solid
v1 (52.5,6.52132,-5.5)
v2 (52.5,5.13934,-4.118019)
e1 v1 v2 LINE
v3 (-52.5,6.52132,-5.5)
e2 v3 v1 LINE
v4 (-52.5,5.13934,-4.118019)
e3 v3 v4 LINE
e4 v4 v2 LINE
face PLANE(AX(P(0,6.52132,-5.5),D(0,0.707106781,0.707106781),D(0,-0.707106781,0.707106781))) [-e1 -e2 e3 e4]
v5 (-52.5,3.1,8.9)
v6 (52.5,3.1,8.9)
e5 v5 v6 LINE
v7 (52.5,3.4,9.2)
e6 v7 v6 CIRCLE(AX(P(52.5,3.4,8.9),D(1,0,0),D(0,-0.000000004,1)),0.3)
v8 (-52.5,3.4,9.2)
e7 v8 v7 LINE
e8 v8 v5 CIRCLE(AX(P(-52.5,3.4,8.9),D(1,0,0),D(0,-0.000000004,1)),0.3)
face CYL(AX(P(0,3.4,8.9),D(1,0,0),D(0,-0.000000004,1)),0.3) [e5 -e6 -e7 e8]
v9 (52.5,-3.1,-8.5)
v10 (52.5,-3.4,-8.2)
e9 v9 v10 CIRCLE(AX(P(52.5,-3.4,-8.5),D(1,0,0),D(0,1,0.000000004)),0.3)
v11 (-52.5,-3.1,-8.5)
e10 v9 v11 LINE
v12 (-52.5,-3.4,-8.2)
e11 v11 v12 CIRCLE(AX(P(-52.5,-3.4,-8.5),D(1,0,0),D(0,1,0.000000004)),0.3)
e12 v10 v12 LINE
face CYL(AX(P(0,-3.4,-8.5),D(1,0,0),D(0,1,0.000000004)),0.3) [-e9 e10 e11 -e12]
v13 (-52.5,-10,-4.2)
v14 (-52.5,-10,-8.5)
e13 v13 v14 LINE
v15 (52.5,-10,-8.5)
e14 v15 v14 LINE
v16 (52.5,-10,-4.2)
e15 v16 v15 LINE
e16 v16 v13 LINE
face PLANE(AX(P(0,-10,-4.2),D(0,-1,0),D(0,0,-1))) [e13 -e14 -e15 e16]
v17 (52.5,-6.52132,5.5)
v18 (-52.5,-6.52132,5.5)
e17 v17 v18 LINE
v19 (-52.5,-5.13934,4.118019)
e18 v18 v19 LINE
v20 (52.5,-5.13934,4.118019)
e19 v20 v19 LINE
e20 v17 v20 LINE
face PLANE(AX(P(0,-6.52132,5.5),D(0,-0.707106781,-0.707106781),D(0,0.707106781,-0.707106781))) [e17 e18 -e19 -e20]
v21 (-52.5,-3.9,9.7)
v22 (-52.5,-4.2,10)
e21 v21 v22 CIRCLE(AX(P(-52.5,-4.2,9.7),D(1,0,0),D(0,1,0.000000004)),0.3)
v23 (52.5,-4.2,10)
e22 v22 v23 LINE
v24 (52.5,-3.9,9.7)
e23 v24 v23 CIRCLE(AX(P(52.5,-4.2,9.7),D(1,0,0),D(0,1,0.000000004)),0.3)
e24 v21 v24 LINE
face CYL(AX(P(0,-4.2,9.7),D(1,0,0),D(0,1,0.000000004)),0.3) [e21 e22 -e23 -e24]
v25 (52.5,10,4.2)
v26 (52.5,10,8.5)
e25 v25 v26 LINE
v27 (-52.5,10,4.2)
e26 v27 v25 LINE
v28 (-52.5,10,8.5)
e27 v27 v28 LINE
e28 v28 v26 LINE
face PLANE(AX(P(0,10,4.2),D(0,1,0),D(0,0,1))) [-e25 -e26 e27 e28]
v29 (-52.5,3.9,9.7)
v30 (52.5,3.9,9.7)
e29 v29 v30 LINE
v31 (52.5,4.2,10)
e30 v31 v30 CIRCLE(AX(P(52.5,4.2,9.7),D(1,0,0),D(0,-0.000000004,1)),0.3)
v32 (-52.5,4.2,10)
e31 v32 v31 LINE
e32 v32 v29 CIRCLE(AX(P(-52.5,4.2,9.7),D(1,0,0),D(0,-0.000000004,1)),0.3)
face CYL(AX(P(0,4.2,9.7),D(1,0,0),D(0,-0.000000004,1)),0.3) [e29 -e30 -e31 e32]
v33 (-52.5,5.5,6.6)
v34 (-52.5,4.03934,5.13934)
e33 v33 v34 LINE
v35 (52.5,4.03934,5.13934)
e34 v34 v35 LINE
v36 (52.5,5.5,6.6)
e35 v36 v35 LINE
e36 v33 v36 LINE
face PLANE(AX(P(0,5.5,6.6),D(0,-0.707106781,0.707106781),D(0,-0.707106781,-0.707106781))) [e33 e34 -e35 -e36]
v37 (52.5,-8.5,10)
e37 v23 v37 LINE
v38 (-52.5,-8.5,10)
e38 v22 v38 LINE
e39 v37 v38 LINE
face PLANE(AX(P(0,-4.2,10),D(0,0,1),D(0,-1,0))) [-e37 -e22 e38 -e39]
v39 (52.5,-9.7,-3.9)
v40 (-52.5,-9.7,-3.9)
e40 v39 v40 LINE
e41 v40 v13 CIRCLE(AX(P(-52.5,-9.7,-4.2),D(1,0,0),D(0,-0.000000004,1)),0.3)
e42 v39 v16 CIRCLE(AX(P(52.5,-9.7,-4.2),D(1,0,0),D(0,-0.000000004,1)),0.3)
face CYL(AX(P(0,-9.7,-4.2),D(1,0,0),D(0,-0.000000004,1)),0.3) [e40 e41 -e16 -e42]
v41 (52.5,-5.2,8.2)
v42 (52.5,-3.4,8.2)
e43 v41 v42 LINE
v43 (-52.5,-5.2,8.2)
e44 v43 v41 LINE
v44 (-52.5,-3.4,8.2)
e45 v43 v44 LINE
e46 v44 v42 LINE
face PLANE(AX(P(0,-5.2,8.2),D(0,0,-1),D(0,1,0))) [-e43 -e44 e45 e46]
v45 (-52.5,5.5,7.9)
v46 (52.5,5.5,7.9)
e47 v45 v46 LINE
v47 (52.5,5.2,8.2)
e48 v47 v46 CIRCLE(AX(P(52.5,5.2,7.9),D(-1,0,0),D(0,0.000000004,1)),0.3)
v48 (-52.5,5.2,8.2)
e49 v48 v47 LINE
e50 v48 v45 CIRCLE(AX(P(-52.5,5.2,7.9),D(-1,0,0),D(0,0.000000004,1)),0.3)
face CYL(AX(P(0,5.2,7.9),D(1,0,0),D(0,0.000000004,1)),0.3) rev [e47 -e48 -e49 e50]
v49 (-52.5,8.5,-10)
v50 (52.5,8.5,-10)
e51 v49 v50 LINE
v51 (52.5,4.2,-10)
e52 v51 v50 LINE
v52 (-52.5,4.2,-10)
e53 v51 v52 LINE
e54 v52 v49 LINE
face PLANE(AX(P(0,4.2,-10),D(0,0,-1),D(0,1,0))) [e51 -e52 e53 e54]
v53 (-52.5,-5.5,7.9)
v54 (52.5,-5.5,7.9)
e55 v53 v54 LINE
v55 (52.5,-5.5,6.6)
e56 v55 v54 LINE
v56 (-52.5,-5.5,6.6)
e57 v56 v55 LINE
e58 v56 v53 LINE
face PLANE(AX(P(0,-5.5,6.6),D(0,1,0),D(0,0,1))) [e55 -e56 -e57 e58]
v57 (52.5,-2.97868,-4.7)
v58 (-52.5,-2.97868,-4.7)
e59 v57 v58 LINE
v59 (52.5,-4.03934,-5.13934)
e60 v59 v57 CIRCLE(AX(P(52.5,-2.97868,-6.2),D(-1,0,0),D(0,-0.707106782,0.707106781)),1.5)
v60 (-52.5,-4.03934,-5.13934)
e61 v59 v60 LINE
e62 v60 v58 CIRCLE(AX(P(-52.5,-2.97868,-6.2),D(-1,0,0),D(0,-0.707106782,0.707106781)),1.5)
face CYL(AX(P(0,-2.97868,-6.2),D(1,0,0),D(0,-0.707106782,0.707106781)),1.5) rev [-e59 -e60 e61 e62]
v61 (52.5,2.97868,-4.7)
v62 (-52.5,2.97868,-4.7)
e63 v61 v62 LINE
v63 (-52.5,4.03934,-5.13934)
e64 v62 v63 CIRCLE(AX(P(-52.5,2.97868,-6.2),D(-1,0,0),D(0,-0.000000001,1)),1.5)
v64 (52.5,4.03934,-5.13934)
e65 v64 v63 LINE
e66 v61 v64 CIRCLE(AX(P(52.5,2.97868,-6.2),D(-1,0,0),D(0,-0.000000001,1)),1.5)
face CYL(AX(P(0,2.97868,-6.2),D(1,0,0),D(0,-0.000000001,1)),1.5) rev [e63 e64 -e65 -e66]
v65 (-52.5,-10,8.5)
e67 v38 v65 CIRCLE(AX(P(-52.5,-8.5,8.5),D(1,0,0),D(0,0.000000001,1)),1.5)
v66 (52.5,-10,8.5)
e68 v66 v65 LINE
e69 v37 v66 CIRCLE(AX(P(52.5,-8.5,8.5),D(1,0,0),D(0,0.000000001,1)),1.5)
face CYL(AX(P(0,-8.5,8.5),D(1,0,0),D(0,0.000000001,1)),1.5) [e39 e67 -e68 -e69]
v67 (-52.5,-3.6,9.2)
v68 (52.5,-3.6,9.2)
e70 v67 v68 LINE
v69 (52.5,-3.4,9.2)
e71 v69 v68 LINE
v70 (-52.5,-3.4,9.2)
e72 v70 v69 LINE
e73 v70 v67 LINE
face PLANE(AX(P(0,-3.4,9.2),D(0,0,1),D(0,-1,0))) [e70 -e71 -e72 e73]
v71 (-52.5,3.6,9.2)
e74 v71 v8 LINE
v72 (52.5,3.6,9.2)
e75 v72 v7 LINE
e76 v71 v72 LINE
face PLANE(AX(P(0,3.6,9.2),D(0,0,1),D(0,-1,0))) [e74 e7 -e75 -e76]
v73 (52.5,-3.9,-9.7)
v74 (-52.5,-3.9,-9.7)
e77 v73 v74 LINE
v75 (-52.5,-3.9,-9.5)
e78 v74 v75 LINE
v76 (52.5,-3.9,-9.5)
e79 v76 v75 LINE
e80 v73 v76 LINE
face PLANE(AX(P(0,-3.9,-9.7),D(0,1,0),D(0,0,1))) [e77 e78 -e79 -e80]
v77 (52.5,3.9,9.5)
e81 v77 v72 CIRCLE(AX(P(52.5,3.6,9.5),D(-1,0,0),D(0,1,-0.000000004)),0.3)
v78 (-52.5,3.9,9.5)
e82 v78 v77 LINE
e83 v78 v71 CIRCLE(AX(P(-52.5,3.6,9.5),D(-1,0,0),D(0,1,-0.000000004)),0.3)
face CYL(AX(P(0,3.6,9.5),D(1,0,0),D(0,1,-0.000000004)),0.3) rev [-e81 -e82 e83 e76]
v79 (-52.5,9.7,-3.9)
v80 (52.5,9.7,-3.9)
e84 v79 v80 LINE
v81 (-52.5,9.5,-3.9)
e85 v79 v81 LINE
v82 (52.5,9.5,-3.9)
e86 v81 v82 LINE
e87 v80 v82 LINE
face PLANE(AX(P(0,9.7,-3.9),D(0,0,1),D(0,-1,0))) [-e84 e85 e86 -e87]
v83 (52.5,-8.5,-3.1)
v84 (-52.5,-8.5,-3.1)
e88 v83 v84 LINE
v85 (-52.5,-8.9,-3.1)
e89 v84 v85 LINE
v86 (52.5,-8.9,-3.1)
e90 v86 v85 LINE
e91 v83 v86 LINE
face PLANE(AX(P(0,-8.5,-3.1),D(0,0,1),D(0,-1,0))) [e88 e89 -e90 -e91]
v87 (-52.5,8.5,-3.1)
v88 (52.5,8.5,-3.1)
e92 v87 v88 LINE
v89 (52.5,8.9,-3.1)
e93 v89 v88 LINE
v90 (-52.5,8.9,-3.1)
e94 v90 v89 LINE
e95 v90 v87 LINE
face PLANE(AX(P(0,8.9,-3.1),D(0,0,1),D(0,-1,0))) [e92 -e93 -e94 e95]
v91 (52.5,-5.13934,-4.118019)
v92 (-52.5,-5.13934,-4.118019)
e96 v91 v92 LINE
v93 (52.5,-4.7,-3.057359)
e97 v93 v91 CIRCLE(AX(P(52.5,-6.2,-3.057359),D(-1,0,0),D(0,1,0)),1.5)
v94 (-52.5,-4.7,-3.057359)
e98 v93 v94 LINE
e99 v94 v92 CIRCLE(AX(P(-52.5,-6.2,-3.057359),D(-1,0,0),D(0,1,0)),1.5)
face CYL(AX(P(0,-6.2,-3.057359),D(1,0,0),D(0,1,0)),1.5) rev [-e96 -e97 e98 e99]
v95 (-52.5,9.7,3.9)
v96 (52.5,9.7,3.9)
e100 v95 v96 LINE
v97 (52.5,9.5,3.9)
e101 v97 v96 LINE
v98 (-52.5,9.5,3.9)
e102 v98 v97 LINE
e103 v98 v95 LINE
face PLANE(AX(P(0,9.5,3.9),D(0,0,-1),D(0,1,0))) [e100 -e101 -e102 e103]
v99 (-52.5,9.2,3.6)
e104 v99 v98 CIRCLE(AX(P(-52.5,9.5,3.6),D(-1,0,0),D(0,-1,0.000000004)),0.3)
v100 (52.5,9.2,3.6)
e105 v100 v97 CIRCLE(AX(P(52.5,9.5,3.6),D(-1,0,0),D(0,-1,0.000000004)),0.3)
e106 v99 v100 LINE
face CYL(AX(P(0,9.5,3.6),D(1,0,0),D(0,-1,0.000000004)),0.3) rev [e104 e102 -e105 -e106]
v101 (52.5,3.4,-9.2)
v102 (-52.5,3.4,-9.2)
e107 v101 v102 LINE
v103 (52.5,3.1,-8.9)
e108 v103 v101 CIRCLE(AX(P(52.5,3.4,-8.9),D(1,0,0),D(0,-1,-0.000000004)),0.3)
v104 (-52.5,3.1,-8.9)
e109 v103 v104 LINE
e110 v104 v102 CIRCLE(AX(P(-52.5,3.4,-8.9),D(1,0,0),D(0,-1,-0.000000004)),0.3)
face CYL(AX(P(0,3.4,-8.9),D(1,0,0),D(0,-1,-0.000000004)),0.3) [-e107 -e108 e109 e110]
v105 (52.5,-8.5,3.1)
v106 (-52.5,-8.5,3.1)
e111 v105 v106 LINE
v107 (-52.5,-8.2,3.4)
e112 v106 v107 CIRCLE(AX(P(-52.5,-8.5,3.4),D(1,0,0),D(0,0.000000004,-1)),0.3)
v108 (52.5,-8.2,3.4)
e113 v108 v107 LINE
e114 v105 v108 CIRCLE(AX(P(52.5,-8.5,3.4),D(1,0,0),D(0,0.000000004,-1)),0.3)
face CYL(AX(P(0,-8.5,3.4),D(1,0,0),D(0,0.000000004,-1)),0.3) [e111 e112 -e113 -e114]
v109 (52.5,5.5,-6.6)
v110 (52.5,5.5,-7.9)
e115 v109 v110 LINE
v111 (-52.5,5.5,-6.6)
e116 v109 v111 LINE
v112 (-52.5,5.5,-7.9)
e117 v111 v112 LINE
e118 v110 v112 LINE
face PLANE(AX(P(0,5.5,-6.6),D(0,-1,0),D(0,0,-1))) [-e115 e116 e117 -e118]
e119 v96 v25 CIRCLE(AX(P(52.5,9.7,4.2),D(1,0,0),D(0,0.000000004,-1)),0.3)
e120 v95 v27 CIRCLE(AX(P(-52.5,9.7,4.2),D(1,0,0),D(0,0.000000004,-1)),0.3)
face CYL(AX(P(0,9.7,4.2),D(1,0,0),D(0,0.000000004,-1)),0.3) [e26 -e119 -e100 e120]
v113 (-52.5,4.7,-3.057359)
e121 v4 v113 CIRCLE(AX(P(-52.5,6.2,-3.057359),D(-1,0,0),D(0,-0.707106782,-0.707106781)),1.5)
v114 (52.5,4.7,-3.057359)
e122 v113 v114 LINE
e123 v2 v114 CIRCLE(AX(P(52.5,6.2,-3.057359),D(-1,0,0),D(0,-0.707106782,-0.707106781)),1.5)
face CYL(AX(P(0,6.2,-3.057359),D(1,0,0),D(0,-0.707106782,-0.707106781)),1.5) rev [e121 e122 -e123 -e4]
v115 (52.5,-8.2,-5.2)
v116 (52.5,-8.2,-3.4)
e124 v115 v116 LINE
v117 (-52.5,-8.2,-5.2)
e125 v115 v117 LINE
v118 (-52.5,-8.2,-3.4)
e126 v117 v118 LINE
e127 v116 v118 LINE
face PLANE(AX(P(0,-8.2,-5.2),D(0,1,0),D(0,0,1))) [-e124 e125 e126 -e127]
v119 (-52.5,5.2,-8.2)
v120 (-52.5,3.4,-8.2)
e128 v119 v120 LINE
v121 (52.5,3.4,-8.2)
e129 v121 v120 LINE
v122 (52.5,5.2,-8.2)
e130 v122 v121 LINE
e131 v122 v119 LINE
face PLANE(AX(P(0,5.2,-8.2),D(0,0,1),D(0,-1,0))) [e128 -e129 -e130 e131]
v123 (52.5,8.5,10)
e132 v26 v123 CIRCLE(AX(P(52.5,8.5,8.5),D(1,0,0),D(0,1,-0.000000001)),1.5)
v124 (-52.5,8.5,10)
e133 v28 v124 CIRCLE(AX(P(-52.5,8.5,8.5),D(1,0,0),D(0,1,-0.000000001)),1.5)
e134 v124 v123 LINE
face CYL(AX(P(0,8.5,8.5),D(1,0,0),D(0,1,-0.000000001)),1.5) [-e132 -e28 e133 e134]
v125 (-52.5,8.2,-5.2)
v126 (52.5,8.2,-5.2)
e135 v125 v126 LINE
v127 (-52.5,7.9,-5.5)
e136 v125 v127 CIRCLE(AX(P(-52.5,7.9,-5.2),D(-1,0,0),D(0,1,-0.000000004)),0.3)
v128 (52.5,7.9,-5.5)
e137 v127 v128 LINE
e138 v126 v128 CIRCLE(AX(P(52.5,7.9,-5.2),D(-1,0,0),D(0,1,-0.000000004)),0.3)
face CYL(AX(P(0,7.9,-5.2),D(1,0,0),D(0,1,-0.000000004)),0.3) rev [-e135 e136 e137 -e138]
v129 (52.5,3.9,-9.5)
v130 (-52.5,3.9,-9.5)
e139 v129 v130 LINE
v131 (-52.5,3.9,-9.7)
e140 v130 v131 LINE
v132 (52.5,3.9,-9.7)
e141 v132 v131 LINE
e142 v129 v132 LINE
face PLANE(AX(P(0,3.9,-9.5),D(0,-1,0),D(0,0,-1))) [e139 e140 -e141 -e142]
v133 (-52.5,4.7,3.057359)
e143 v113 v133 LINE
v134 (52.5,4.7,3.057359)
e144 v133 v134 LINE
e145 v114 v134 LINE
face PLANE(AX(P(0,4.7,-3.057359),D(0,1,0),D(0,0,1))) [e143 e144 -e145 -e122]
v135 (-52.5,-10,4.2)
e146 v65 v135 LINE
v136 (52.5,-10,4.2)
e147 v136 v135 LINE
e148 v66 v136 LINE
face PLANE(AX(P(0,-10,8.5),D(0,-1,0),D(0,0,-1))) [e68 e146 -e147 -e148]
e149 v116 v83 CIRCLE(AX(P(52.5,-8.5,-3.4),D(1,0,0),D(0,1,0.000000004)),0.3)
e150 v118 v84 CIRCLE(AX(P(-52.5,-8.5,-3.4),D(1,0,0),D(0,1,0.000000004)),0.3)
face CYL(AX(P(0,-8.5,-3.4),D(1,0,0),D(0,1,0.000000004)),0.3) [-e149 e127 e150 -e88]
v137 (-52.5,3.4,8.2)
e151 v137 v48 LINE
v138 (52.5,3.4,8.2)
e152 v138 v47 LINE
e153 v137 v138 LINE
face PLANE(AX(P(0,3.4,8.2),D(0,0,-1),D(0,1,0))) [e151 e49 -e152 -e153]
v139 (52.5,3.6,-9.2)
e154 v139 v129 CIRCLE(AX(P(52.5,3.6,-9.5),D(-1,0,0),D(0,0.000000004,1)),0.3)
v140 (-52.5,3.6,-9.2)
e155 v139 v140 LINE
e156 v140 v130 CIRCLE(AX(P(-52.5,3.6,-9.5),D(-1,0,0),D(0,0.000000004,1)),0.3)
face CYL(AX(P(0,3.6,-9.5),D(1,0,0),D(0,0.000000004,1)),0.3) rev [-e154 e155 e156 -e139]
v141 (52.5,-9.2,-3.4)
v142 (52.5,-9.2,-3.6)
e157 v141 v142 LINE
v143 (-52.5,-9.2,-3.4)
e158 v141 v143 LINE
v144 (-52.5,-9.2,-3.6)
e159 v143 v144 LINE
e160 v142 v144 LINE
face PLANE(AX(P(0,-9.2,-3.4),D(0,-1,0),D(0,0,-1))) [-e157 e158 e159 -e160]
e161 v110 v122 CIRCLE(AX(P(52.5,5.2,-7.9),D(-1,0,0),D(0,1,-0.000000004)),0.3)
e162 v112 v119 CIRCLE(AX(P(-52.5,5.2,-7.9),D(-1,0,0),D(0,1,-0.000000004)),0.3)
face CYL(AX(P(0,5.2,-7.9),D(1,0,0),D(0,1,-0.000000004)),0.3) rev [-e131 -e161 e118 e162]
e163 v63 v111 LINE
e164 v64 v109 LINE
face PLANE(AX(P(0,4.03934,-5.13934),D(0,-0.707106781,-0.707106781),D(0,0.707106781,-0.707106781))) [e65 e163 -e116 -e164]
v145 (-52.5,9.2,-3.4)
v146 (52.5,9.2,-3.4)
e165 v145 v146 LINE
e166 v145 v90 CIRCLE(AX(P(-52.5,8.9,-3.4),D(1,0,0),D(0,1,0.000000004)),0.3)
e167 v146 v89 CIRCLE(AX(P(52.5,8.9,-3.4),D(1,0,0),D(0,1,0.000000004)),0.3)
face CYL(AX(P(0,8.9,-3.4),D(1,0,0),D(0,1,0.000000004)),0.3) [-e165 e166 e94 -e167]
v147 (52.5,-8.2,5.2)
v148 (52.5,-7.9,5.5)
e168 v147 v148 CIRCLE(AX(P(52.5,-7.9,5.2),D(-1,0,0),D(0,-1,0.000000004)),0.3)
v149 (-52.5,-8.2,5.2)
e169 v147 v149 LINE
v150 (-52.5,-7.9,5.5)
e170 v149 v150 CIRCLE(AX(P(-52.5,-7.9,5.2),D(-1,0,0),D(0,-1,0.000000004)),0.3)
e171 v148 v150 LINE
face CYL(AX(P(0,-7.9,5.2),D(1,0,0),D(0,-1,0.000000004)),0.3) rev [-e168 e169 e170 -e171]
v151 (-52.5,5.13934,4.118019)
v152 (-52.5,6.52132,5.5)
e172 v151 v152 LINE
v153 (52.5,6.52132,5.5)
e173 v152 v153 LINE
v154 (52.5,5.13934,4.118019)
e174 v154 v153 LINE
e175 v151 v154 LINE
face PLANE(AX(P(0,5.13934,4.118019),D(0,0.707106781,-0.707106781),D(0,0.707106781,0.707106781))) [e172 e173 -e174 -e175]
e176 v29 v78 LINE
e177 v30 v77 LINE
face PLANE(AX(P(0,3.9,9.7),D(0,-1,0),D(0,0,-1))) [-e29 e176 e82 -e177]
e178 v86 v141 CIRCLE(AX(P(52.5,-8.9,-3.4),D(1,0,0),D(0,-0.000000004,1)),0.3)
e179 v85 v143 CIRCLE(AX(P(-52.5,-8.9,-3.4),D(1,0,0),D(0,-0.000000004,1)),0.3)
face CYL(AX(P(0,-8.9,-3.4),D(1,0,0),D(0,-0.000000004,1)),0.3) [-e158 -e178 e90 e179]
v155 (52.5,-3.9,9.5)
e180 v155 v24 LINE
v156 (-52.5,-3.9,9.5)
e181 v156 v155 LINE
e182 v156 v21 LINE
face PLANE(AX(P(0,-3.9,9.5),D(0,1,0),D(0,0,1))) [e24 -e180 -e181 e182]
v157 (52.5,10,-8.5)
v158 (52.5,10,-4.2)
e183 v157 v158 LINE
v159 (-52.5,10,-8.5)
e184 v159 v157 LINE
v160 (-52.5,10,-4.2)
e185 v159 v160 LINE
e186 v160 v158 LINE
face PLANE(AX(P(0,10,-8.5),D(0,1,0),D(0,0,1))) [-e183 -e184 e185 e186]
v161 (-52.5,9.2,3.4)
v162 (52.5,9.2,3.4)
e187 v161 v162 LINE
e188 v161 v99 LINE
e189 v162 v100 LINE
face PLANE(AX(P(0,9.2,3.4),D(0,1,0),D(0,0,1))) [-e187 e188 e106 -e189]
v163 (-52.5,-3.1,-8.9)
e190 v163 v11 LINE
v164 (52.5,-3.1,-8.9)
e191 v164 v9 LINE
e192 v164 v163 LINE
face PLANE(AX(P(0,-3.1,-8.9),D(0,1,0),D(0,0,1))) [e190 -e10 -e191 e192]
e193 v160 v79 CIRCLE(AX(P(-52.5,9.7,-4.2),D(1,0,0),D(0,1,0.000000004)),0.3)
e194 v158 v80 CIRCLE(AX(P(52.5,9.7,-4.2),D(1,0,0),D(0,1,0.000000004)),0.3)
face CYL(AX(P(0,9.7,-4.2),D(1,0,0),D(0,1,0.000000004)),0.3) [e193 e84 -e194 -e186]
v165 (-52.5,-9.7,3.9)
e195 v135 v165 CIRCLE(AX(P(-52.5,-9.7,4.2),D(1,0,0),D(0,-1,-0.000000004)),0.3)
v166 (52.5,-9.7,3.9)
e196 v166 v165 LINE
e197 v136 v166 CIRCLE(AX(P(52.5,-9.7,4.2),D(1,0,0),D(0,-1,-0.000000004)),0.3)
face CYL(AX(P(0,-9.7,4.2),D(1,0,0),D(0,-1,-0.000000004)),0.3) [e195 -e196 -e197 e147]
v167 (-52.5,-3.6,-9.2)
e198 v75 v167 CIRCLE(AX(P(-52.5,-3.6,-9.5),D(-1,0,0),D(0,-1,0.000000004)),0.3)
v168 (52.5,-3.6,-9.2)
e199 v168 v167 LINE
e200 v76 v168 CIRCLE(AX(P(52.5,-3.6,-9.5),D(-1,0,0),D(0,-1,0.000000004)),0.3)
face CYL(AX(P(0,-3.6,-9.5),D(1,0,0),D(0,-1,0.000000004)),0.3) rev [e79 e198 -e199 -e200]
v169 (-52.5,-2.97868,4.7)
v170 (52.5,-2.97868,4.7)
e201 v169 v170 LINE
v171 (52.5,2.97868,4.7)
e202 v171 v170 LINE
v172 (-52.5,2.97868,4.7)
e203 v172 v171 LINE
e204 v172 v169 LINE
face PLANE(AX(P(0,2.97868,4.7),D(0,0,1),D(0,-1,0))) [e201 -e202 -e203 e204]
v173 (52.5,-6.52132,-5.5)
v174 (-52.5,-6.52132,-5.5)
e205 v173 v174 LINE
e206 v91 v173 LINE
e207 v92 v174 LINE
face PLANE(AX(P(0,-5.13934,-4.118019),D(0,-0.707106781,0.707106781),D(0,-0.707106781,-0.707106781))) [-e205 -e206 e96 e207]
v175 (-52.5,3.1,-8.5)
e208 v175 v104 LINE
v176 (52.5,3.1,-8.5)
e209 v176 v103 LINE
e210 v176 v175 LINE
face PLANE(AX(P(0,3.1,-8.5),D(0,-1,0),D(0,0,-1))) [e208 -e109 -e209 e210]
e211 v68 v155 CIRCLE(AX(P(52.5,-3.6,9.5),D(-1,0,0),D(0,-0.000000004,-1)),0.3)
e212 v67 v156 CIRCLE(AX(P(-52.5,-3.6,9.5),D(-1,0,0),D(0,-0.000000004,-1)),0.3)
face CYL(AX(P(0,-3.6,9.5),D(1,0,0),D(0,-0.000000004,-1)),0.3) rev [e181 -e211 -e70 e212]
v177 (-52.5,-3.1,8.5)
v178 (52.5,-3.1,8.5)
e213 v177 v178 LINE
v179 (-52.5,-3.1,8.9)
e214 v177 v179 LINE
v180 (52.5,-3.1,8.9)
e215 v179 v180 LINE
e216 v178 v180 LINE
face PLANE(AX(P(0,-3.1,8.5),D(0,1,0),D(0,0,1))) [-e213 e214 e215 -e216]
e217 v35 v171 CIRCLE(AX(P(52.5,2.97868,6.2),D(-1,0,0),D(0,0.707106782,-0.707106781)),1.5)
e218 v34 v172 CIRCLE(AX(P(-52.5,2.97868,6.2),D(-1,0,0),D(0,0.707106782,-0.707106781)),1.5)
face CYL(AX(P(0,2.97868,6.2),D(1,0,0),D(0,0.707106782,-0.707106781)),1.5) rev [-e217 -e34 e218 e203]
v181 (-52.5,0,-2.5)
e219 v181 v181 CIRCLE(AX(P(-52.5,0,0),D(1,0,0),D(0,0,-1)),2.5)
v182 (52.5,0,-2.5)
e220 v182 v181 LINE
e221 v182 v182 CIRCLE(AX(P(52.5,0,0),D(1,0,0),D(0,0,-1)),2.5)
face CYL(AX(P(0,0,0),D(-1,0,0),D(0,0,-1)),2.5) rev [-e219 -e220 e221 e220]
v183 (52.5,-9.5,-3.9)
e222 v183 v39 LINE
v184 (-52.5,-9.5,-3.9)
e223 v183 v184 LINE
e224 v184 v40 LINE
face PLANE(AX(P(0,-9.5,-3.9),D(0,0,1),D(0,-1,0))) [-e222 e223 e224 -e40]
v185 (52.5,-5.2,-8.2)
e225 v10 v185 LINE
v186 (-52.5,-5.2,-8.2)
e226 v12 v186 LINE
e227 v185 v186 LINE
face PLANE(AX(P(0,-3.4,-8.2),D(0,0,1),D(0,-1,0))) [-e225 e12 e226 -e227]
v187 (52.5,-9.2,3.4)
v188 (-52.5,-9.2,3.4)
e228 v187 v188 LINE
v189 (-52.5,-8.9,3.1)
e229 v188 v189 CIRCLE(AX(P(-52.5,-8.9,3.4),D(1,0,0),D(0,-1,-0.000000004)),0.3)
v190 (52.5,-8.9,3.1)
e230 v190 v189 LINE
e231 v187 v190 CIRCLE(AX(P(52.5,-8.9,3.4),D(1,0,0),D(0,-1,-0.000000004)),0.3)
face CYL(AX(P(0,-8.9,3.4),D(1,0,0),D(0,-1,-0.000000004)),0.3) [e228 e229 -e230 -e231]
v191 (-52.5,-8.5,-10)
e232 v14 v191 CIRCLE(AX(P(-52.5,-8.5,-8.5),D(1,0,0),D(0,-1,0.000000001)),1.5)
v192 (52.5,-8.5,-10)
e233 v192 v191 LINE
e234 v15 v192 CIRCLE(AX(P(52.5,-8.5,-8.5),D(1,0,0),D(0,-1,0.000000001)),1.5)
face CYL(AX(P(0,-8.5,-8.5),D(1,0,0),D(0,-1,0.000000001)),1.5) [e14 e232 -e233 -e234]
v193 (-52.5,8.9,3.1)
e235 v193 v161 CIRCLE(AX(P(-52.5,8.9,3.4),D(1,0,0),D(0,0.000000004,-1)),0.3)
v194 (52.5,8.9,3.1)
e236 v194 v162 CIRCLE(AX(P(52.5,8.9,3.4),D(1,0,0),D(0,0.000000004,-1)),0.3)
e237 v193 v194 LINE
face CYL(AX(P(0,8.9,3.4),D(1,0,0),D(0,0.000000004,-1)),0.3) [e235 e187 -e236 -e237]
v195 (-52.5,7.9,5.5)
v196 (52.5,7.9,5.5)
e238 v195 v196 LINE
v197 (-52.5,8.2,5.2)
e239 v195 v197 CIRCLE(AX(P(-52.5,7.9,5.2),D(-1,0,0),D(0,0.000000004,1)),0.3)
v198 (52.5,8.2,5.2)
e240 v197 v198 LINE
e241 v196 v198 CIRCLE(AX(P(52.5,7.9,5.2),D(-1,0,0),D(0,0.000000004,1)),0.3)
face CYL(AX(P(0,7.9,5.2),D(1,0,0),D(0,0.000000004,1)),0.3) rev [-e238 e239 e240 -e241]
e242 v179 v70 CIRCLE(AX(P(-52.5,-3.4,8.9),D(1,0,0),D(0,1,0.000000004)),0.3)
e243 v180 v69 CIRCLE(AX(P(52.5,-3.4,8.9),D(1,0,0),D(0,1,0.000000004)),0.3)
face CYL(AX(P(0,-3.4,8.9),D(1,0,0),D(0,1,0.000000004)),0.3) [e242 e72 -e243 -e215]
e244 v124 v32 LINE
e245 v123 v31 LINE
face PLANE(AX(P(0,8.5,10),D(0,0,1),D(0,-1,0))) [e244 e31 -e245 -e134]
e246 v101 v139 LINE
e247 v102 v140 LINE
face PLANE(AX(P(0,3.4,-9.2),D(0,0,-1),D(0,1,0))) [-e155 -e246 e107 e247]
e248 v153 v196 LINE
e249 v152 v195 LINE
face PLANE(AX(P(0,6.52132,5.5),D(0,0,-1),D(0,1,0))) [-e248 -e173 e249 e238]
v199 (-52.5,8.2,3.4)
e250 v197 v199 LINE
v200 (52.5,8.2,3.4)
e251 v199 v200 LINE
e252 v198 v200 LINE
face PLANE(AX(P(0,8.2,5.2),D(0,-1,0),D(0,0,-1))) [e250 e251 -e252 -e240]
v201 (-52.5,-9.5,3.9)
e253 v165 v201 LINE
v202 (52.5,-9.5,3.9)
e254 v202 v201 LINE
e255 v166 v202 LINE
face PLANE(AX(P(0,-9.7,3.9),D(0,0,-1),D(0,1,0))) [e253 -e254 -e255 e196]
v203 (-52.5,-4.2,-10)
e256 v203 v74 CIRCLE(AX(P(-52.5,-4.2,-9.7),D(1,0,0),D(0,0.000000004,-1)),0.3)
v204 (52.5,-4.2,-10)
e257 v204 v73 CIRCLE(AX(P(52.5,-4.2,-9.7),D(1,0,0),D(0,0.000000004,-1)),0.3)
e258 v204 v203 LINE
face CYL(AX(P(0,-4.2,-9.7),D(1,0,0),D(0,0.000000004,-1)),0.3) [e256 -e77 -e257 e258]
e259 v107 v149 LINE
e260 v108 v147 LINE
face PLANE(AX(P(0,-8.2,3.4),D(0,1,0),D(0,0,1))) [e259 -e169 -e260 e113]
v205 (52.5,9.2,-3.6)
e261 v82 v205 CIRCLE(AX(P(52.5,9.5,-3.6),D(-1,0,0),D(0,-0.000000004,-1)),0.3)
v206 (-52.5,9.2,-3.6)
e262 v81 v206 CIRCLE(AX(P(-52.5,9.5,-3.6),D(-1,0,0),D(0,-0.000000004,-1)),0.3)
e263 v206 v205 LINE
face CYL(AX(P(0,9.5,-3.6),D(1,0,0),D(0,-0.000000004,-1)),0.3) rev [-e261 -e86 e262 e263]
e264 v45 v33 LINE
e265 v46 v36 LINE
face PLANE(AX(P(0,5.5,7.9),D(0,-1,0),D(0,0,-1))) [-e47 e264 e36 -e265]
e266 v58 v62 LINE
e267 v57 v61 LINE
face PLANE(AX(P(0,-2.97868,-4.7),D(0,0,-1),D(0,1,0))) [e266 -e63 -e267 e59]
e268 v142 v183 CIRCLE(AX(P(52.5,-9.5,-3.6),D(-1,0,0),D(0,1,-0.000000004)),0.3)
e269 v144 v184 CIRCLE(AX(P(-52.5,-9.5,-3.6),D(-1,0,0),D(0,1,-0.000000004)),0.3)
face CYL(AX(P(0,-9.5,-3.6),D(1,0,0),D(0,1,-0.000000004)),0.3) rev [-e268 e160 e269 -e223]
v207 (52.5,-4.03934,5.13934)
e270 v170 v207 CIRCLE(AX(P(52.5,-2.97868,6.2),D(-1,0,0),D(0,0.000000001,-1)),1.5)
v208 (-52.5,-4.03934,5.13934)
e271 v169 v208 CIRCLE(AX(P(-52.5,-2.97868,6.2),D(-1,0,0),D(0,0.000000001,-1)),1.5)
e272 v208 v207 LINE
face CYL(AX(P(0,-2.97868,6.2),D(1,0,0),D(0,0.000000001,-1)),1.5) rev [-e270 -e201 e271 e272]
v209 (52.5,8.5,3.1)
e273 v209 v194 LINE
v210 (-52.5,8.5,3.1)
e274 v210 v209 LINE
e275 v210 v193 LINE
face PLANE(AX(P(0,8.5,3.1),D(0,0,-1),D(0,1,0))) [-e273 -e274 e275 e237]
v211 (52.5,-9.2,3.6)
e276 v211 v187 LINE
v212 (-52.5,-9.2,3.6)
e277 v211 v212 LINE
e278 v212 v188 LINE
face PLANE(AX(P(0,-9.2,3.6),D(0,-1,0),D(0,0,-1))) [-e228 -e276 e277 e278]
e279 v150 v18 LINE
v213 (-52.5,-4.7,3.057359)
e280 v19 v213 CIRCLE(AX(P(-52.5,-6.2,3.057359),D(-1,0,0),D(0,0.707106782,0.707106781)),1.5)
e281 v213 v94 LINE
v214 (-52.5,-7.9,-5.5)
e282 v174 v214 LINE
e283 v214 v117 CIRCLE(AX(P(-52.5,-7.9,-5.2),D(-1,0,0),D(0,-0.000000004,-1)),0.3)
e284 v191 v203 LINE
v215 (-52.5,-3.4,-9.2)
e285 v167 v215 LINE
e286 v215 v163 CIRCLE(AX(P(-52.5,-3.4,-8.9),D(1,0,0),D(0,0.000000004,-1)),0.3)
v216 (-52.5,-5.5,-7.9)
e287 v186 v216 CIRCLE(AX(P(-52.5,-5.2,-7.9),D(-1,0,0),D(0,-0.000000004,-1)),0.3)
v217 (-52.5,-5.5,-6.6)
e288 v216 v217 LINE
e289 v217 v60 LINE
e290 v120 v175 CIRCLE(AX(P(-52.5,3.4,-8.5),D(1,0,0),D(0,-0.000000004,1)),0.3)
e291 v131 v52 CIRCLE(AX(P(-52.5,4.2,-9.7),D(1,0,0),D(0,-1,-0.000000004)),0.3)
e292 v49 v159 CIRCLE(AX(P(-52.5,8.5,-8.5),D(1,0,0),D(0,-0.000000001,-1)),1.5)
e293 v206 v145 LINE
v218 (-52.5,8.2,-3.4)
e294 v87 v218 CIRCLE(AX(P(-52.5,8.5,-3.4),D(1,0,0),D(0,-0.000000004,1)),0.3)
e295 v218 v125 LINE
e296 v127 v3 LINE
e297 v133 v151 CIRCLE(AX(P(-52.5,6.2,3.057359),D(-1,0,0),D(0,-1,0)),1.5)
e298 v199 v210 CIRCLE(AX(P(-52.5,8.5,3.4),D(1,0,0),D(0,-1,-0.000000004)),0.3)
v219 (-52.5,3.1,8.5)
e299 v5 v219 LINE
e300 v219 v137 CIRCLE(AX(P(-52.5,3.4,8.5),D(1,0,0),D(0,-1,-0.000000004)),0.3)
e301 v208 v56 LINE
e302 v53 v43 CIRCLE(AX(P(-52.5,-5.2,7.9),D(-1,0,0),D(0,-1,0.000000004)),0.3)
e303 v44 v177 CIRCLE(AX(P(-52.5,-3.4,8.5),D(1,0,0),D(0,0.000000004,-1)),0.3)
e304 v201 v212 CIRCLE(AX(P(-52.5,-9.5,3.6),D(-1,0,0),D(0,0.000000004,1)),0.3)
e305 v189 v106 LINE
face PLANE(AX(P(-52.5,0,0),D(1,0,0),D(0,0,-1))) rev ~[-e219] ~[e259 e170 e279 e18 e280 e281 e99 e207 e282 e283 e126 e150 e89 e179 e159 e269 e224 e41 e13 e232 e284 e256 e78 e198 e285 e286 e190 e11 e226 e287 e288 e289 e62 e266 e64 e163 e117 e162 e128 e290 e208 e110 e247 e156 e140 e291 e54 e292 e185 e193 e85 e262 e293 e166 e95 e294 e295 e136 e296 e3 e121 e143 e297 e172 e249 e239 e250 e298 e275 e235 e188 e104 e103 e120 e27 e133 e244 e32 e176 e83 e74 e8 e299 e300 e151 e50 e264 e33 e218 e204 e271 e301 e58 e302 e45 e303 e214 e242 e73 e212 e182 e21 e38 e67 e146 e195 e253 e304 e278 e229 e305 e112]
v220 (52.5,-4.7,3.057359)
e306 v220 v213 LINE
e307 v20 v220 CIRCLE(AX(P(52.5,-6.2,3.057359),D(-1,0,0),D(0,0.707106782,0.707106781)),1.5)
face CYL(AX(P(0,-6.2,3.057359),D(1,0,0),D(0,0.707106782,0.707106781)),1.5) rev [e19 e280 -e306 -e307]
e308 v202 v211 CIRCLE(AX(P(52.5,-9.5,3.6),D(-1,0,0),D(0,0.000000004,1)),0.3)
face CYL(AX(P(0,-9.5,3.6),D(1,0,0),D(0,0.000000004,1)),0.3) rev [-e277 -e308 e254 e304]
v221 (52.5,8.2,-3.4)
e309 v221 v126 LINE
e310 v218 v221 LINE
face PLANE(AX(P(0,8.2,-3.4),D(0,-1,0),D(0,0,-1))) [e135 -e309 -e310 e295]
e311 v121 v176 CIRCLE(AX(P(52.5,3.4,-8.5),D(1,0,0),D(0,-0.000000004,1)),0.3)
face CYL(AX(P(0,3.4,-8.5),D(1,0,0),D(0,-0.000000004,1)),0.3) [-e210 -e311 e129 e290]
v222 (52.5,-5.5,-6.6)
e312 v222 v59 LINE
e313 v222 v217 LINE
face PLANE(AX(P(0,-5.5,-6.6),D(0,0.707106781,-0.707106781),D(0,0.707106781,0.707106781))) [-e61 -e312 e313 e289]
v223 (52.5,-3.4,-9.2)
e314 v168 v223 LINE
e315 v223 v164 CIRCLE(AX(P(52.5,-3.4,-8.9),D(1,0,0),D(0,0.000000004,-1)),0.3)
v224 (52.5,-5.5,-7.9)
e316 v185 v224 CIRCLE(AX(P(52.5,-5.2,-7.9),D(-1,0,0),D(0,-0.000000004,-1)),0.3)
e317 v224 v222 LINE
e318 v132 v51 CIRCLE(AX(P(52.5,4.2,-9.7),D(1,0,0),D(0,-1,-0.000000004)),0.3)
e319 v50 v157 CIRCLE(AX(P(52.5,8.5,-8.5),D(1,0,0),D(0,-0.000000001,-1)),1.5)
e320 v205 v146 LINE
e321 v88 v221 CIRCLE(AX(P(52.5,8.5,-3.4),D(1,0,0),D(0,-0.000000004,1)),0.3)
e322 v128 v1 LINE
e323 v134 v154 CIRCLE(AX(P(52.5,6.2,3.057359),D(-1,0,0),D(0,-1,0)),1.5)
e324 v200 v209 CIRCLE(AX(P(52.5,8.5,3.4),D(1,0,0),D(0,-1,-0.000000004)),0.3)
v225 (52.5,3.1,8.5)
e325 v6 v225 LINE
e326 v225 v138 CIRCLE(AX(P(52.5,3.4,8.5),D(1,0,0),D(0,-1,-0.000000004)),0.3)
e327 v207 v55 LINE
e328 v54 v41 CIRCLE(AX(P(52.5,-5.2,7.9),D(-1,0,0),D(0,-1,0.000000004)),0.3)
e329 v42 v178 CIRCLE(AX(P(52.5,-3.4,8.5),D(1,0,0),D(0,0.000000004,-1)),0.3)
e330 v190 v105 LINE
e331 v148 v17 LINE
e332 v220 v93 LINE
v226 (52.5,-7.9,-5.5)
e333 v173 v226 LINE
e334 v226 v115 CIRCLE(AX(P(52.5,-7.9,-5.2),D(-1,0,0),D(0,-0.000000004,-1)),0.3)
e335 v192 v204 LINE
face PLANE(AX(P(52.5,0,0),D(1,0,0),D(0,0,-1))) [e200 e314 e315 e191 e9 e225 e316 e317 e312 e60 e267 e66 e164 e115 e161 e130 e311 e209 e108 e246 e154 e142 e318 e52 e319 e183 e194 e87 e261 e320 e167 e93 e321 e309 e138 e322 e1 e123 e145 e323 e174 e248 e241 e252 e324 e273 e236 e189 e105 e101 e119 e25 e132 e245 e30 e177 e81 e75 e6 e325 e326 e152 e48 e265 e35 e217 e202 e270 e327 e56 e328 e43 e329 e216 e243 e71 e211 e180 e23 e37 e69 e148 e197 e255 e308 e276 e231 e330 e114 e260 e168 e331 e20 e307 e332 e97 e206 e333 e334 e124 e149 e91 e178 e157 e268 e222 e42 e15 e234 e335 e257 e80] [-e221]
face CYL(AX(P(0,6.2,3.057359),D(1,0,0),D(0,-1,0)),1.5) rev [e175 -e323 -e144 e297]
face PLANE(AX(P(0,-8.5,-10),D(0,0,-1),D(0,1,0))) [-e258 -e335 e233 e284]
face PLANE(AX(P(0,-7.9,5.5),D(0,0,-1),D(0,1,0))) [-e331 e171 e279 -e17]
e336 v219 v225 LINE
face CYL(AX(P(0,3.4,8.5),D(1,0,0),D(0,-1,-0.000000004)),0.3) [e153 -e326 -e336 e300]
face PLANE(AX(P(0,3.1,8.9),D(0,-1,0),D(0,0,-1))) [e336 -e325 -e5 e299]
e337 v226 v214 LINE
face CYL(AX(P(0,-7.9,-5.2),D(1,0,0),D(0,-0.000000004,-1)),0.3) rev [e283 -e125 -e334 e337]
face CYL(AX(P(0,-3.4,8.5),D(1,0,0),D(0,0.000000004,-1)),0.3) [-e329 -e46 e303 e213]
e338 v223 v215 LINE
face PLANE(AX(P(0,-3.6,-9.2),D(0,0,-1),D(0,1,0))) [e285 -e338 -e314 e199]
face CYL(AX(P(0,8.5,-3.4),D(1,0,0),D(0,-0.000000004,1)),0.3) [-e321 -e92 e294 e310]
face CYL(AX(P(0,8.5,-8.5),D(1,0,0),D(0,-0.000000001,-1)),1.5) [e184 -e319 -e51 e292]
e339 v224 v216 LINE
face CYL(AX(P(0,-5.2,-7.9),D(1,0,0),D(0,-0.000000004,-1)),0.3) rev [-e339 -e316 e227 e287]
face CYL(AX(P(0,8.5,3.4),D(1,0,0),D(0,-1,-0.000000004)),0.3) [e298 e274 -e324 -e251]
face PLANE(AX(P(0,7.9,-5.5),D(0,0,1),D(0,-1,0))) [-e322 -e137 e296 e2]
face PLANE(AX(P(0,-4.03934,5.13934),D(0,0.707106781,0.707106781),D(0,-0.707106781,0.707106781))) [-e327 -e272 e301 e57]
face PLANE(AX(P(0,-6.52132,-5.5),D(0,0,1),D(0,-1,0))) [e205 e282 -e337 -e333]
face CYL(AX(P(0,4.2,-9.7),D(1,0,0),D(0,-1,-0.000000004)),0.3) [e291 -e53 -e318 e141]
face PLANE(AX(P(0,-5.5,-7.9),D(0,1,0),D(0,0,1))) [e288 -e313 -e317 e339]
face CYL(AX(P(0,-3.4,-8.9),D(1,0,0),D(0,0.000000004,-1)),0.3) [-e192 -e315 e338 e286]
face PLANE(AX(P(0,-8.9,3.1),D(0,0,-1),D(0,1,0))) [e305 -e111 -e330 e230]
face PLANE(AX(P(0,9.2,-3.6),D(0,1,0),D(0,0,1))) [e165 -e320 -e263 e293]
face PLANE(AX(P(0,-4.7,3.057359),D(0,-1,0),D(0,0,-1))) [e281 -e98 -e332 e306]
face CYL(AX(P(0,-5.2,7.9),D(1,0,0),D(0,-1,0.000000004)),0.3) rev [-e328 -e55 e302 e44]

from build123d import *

# Parameters (mm, degrees)
SKETCH1_R           = 2.5
BOSS_EXTRUDE2_DEPTH = 52.5


with BuildPart() as part:
    # Sketch1 → Boss-Extrude2 (new, symmetric)
    with BuildSketch(Plane(origin=(0, 0, 0), x_dir=(0, 0, -1), z_dir=(1, 0, 0))):
        with BuildLine():
            Line((10, 4.2), (10, 8.5))
            ThreePointArc((10, 8.5), (9.560660172, 9.560660172), (8.5, 10))
            Line((8.5, 10), (4.2, 10))
            ThreePointArc((4.2, 10), (3.987867966, 9.912132034), (3.9, 9.7))
            Line((3.9, 9.7), (3.9, 9.5))
            ThreePointArc((3.9, 9.5), (3.812132034, 9.287867966), (3.6, 9.2))
            Line((3.6, 9.2), (3.4, 9.2))
            ThreePointArc((3.4, 9.2), (3.187867966, 9.112132034), (3.1, 8.9))
            Line((3.1, 8.9), (3.1, 8.5))
            ThreePointArc((3.1, 8.5), (3.187867966, 8.287867966), (3.4, 8.2))
            Line((3.4, 8.2), (5.2, 8.2))
            ThreePointArc((5.2, 8.2), (5.412132034, 8.112132034), (5.5, 7.9))
            Line((5.5, 7.9), (5.5, 6.521320344))
            Line((5.5, 6.521320344), (4.118019485, 5.139339828))
            ThreePointArc((4.118019485, 5.139339828), (3.631384461, 4.814180701), (3.057359313, 4.7))
            Line((3.057359313, 4.7), (-3.057359313, 4.7))
            ThreePointArc((-3.057359313, 4.7), (-3.631384461, 4.814180701), (-4.118019485, 5.139339828))
            Line((-4.118019485, 5.139339828), (-5.5, 6.521320344))
            Line((-5.5, 6.521320344), (-5.5, 7.9))
            ThreePointArc((-5.5, 7.9), (-5.412132034, 8.112132034), (-5.2, 8.2))
            Line((-5.2, 8.2), (-3.4, 8.2))
            ThreePointArc((-3.4, 8.2), (-3.187867966, 8.287867966), (-3.1, 8.5))
            Line((-3.1, 8.5), (-3.1, 8.9))
            ThreePointArc((-3.1, 8.9), (-3.187867966, 9.112132034), (-3.4, 9.2))
            Line((-3.4, 9.2), (-3.6, 9.2))
            ThreePointArc((-3.6, 9.2), (-3.812132034, 9.287867966), (-3.9, 9.5))
            Line((-3.9, 9.5), (-3.9, 9.7))
            ThreePointArc((-3.9, 9.7), (-3.987867966, 9.912132034), (-4.2, 10))
            Line((-4.2, 10), (-8.5, 10))
            ThreePointArc((-8.5, 10), (-9.560660172, 9.560660172), (-10, 8.5))
            Line((-10, 8.5), (-10, 4.2))
            ThreePointArc((-10, 4.2), (-9.912132034, 3.987867966), (-9.7, 3.9))
            Line((-9.7, 3.9), (-9.5, 3.9))
            ThreePointArc((-9.5, 3.9), (-9.287867966, 3.812132034), (-9.2, 3.6))
            Line((-9.2, 3.6), (-9.2, 3.4))
            ThreePointArc((-9.2, 3.4), (-9.112132034, 3.187867966), (-8.9, 3.1))
            Line((-8.9, 3.1), (-8.5, 3.1))
            ThreePointArc((-8.5, 3.1), (-8.287867966, 3.187867966), (-8.2, 3.4))
            Line((-8.2, 3.4), (-8.2, 5.2))
            ThreePointArc((-8.2, 5.2), (-8.112132034, 5.412132034), (-7.9, 5.5))
            Line((-7.9, 5.5), (-6.6, 5.5))
            Line((-6.6, 5.5), (-5.139339828, 4.039339828))
            ThreePointArc((-5.139339828, 4.039339828), (-4.814180701, 3.552704805), (-4.7, 2.978679656))
            Line((-4.7, 2.978679656), (-4.7, -2.978679656))
            ThreePointArc((-4.7, -2.978679656), (-4.814180701, -3.552704805), (-5.139339828, -4.039339828))
            Line((-5.139339828, -4.039339828), (-6.6, -5.5))
            Line((-6.6, -5.5), (-7.9, -5.5))
            ThreePointArc((-7.9, -5.5), (-8.112132034, -5.412132034), (-8.2, -5.2))
            Line((-8.2, -5.2), (-8.2, -3.4))
            ThreePointArc((-8.2, -3.4), (-8.287867966, -3.187867966), (-8.5, -3.1))
            Line((-8.5, -3.1), (-8.9, -3.1))
            ThreePointArc((-8.9, -3.1), (-9.112132034, -3.187867966), (-9.2, -3.4))
            Line((-9.2, -3.4), (-9.2, -3.6))
            ThreePointArc((-9.2, -3.6), (-9.287867966, -3.812132034), (-9.5, -3.9))
            Line((-9.5, -3.9), (-9.7, -3.9))
            ThreePointArc((-9.7, -3.9), (-9.912132034, -3.987867966), (-10, -4.2))
            Line((-10, -4.2), (-10, -8.5))
            ThreePointArc((-10, -8.5), (-9.560660172, -9.560660172), (-8.5, -10))
            Line((-8.5, -10), (-4.2, -10))
            ThreePointArc((-4.2, -10), (-3.987867966, -9.912132034), (-3.9, -9.7))
            Line((-3.9, -9.7), (-3.9, -9.5))
            ThreePointArc((-3.9, -9.5), (-3.812132034, -9.287867966), (-3.6, -9.2))
            Line((-3.6, -9.2), (-3.4, -9.2))
            ThreePointArc((-3.4, -9.2), (-3.187867966, -9.112132034), (-3.1, -8.9))
            Line((-3.1, -8.9), (-3.1, -8.5))
            ThreePointArc((-3.1, -8.5), (-3.187867966, -8.287867966), (-3.4, -8.2))
            Line((-3.4, -8.2), (-5.2, -8.2))
            ThreePointArc((-5.2, -8.2), (-5.412132034, -8.112132034), (-5.5, -7.9))
            Line((-5.5, -7.9), (-5.5, -6.521320344))
            Line((-5.5, -6.521320344), (-4.118019485, -5.139339828))
            ThreePointArc((-4.118019485, -5.139339828), (-3.631384461, -4.814180701), (-3.057359313, -4.7))
            Line((-3.057359313, -4.7), (3.057359313, -4.7))
            ThreePointArc((3.057359313, -4.7), (3.631384461, -4.814180701), (4.118019485, -5.139339828))
            Line((4.118019485, -5.139339828), (5.5, -6.521320344))
            Line((5.5, -6.521320344), (5.5, -7.9))
            ThreePointArc((5.5, -7.9), (5.412132034, -8.112132034), (5.2, -8.2))
            Line((5.2, -8.2), (3.4, -8.2))
            ThreePointArc((3.4, -8.2), (3.187867966, -8.287867966), (3.1, -8.5))
            Line((3.1, -8.5), (3.1, -8.9))
            ThreePointArc((3.1, -8.9), (3.187867966, -9.112132034), (3.4, -9.2))
            Line((3.4, -9.2), (3.6, -9.2))
            ThreePointArc((3.6, -9.2), (3.812132034, -9.287867966), (3.9, -9.5))
            Line((3.9, -9.5), (3.9, -9.7))
            ThreePointArc((3.9, -9.7), (3.987867966, -9.912132034), (4.2, -10))
            Line((4.2, -10), (8.5, -10))
            ThreePointArc((8.5, -10), (9.560660172, -9.560660172), (10, -8.5))
            Line((10, -8.5), (10, -4.2))
            ThreePointArc((10, -4.2), (9.912132034, -3.987867966), (9.7, -3.9))
            Line((9.7, -3.9), (9.5, -3.9))
            ThreePointArc((9.5, -3.9), (9.287867966, -3.812132034), (9.2, -3.6))
            Line((9.2, -3.6), (9.2, -3.4))
            ThreePointArc((9.2, -3.4), (9.112132034, -3.187867966), (8.9, -3.1))
            Line((8.9, -3.1), (8.5, -3.1))
            ThreePointArc((8.5, -3.1), (8.287867966, -3.187867966), (8.2, -3.4))
            Line((8.2, -3.4), (8.2, -5.2))
            ThreePointArc((8.2, -5.2), (8.112132034, -5.412132034), (7.9, -5.5))
            Line((7.9, -5.5), (6.6, -5.5))
            Line((6.6, -5.5), (5.139339828, -4.039339828))
            ThreePointArc((5.139339828, -4.039339828), (4.814180701, -3.552704805), (4.7, -2.978679656))
            Line((4.7, -2.978679656), (4.7, 2.978679656))
            ThreePointArc((4.7, 2.978679656), (4.814180701, 3.552704805), (5.139339828, 4.039339828))
            Line((5.139339828, 4.039339828), (6.6, 5.5))
            Line((6.6, 5.5), (7.9, 5.5))
            ThreePointArc((7.9, 5.5), (8.112132034, 5.412132034), (8.2, 5.2))
            Line((8.2, 5.2), (8.2, 3.4))
            ThreePointArc((8.2, 3.4), (8.287867966, 3.187867966), (8.5, 3.1))
            Line((8.5, 3.1), (8.9, 3.1))
            ThreePointArc((8.9, 3.1), (9.112132034, 3.187867966), (9.2, 3.4))
            Line((9.2, 3.4), (9.2, 3.6))
            ThreePointArc((9.2, 3.6), (9.287867966, 3.812132034), (9.5, 3.9))
            Line((9.5, 3.9), (9.7, 3.9))
            ThreePointArc((9.7, 3.9), (9.912132034, 3.987867966), (10, 4.2))
        make_face()
        Circle(SKETCH1_R, mode=Mode.SUBTRACT)
    extrude(amount=BOSS_EXTRUDE2_DEPTH, both=True)


solid = part.part
